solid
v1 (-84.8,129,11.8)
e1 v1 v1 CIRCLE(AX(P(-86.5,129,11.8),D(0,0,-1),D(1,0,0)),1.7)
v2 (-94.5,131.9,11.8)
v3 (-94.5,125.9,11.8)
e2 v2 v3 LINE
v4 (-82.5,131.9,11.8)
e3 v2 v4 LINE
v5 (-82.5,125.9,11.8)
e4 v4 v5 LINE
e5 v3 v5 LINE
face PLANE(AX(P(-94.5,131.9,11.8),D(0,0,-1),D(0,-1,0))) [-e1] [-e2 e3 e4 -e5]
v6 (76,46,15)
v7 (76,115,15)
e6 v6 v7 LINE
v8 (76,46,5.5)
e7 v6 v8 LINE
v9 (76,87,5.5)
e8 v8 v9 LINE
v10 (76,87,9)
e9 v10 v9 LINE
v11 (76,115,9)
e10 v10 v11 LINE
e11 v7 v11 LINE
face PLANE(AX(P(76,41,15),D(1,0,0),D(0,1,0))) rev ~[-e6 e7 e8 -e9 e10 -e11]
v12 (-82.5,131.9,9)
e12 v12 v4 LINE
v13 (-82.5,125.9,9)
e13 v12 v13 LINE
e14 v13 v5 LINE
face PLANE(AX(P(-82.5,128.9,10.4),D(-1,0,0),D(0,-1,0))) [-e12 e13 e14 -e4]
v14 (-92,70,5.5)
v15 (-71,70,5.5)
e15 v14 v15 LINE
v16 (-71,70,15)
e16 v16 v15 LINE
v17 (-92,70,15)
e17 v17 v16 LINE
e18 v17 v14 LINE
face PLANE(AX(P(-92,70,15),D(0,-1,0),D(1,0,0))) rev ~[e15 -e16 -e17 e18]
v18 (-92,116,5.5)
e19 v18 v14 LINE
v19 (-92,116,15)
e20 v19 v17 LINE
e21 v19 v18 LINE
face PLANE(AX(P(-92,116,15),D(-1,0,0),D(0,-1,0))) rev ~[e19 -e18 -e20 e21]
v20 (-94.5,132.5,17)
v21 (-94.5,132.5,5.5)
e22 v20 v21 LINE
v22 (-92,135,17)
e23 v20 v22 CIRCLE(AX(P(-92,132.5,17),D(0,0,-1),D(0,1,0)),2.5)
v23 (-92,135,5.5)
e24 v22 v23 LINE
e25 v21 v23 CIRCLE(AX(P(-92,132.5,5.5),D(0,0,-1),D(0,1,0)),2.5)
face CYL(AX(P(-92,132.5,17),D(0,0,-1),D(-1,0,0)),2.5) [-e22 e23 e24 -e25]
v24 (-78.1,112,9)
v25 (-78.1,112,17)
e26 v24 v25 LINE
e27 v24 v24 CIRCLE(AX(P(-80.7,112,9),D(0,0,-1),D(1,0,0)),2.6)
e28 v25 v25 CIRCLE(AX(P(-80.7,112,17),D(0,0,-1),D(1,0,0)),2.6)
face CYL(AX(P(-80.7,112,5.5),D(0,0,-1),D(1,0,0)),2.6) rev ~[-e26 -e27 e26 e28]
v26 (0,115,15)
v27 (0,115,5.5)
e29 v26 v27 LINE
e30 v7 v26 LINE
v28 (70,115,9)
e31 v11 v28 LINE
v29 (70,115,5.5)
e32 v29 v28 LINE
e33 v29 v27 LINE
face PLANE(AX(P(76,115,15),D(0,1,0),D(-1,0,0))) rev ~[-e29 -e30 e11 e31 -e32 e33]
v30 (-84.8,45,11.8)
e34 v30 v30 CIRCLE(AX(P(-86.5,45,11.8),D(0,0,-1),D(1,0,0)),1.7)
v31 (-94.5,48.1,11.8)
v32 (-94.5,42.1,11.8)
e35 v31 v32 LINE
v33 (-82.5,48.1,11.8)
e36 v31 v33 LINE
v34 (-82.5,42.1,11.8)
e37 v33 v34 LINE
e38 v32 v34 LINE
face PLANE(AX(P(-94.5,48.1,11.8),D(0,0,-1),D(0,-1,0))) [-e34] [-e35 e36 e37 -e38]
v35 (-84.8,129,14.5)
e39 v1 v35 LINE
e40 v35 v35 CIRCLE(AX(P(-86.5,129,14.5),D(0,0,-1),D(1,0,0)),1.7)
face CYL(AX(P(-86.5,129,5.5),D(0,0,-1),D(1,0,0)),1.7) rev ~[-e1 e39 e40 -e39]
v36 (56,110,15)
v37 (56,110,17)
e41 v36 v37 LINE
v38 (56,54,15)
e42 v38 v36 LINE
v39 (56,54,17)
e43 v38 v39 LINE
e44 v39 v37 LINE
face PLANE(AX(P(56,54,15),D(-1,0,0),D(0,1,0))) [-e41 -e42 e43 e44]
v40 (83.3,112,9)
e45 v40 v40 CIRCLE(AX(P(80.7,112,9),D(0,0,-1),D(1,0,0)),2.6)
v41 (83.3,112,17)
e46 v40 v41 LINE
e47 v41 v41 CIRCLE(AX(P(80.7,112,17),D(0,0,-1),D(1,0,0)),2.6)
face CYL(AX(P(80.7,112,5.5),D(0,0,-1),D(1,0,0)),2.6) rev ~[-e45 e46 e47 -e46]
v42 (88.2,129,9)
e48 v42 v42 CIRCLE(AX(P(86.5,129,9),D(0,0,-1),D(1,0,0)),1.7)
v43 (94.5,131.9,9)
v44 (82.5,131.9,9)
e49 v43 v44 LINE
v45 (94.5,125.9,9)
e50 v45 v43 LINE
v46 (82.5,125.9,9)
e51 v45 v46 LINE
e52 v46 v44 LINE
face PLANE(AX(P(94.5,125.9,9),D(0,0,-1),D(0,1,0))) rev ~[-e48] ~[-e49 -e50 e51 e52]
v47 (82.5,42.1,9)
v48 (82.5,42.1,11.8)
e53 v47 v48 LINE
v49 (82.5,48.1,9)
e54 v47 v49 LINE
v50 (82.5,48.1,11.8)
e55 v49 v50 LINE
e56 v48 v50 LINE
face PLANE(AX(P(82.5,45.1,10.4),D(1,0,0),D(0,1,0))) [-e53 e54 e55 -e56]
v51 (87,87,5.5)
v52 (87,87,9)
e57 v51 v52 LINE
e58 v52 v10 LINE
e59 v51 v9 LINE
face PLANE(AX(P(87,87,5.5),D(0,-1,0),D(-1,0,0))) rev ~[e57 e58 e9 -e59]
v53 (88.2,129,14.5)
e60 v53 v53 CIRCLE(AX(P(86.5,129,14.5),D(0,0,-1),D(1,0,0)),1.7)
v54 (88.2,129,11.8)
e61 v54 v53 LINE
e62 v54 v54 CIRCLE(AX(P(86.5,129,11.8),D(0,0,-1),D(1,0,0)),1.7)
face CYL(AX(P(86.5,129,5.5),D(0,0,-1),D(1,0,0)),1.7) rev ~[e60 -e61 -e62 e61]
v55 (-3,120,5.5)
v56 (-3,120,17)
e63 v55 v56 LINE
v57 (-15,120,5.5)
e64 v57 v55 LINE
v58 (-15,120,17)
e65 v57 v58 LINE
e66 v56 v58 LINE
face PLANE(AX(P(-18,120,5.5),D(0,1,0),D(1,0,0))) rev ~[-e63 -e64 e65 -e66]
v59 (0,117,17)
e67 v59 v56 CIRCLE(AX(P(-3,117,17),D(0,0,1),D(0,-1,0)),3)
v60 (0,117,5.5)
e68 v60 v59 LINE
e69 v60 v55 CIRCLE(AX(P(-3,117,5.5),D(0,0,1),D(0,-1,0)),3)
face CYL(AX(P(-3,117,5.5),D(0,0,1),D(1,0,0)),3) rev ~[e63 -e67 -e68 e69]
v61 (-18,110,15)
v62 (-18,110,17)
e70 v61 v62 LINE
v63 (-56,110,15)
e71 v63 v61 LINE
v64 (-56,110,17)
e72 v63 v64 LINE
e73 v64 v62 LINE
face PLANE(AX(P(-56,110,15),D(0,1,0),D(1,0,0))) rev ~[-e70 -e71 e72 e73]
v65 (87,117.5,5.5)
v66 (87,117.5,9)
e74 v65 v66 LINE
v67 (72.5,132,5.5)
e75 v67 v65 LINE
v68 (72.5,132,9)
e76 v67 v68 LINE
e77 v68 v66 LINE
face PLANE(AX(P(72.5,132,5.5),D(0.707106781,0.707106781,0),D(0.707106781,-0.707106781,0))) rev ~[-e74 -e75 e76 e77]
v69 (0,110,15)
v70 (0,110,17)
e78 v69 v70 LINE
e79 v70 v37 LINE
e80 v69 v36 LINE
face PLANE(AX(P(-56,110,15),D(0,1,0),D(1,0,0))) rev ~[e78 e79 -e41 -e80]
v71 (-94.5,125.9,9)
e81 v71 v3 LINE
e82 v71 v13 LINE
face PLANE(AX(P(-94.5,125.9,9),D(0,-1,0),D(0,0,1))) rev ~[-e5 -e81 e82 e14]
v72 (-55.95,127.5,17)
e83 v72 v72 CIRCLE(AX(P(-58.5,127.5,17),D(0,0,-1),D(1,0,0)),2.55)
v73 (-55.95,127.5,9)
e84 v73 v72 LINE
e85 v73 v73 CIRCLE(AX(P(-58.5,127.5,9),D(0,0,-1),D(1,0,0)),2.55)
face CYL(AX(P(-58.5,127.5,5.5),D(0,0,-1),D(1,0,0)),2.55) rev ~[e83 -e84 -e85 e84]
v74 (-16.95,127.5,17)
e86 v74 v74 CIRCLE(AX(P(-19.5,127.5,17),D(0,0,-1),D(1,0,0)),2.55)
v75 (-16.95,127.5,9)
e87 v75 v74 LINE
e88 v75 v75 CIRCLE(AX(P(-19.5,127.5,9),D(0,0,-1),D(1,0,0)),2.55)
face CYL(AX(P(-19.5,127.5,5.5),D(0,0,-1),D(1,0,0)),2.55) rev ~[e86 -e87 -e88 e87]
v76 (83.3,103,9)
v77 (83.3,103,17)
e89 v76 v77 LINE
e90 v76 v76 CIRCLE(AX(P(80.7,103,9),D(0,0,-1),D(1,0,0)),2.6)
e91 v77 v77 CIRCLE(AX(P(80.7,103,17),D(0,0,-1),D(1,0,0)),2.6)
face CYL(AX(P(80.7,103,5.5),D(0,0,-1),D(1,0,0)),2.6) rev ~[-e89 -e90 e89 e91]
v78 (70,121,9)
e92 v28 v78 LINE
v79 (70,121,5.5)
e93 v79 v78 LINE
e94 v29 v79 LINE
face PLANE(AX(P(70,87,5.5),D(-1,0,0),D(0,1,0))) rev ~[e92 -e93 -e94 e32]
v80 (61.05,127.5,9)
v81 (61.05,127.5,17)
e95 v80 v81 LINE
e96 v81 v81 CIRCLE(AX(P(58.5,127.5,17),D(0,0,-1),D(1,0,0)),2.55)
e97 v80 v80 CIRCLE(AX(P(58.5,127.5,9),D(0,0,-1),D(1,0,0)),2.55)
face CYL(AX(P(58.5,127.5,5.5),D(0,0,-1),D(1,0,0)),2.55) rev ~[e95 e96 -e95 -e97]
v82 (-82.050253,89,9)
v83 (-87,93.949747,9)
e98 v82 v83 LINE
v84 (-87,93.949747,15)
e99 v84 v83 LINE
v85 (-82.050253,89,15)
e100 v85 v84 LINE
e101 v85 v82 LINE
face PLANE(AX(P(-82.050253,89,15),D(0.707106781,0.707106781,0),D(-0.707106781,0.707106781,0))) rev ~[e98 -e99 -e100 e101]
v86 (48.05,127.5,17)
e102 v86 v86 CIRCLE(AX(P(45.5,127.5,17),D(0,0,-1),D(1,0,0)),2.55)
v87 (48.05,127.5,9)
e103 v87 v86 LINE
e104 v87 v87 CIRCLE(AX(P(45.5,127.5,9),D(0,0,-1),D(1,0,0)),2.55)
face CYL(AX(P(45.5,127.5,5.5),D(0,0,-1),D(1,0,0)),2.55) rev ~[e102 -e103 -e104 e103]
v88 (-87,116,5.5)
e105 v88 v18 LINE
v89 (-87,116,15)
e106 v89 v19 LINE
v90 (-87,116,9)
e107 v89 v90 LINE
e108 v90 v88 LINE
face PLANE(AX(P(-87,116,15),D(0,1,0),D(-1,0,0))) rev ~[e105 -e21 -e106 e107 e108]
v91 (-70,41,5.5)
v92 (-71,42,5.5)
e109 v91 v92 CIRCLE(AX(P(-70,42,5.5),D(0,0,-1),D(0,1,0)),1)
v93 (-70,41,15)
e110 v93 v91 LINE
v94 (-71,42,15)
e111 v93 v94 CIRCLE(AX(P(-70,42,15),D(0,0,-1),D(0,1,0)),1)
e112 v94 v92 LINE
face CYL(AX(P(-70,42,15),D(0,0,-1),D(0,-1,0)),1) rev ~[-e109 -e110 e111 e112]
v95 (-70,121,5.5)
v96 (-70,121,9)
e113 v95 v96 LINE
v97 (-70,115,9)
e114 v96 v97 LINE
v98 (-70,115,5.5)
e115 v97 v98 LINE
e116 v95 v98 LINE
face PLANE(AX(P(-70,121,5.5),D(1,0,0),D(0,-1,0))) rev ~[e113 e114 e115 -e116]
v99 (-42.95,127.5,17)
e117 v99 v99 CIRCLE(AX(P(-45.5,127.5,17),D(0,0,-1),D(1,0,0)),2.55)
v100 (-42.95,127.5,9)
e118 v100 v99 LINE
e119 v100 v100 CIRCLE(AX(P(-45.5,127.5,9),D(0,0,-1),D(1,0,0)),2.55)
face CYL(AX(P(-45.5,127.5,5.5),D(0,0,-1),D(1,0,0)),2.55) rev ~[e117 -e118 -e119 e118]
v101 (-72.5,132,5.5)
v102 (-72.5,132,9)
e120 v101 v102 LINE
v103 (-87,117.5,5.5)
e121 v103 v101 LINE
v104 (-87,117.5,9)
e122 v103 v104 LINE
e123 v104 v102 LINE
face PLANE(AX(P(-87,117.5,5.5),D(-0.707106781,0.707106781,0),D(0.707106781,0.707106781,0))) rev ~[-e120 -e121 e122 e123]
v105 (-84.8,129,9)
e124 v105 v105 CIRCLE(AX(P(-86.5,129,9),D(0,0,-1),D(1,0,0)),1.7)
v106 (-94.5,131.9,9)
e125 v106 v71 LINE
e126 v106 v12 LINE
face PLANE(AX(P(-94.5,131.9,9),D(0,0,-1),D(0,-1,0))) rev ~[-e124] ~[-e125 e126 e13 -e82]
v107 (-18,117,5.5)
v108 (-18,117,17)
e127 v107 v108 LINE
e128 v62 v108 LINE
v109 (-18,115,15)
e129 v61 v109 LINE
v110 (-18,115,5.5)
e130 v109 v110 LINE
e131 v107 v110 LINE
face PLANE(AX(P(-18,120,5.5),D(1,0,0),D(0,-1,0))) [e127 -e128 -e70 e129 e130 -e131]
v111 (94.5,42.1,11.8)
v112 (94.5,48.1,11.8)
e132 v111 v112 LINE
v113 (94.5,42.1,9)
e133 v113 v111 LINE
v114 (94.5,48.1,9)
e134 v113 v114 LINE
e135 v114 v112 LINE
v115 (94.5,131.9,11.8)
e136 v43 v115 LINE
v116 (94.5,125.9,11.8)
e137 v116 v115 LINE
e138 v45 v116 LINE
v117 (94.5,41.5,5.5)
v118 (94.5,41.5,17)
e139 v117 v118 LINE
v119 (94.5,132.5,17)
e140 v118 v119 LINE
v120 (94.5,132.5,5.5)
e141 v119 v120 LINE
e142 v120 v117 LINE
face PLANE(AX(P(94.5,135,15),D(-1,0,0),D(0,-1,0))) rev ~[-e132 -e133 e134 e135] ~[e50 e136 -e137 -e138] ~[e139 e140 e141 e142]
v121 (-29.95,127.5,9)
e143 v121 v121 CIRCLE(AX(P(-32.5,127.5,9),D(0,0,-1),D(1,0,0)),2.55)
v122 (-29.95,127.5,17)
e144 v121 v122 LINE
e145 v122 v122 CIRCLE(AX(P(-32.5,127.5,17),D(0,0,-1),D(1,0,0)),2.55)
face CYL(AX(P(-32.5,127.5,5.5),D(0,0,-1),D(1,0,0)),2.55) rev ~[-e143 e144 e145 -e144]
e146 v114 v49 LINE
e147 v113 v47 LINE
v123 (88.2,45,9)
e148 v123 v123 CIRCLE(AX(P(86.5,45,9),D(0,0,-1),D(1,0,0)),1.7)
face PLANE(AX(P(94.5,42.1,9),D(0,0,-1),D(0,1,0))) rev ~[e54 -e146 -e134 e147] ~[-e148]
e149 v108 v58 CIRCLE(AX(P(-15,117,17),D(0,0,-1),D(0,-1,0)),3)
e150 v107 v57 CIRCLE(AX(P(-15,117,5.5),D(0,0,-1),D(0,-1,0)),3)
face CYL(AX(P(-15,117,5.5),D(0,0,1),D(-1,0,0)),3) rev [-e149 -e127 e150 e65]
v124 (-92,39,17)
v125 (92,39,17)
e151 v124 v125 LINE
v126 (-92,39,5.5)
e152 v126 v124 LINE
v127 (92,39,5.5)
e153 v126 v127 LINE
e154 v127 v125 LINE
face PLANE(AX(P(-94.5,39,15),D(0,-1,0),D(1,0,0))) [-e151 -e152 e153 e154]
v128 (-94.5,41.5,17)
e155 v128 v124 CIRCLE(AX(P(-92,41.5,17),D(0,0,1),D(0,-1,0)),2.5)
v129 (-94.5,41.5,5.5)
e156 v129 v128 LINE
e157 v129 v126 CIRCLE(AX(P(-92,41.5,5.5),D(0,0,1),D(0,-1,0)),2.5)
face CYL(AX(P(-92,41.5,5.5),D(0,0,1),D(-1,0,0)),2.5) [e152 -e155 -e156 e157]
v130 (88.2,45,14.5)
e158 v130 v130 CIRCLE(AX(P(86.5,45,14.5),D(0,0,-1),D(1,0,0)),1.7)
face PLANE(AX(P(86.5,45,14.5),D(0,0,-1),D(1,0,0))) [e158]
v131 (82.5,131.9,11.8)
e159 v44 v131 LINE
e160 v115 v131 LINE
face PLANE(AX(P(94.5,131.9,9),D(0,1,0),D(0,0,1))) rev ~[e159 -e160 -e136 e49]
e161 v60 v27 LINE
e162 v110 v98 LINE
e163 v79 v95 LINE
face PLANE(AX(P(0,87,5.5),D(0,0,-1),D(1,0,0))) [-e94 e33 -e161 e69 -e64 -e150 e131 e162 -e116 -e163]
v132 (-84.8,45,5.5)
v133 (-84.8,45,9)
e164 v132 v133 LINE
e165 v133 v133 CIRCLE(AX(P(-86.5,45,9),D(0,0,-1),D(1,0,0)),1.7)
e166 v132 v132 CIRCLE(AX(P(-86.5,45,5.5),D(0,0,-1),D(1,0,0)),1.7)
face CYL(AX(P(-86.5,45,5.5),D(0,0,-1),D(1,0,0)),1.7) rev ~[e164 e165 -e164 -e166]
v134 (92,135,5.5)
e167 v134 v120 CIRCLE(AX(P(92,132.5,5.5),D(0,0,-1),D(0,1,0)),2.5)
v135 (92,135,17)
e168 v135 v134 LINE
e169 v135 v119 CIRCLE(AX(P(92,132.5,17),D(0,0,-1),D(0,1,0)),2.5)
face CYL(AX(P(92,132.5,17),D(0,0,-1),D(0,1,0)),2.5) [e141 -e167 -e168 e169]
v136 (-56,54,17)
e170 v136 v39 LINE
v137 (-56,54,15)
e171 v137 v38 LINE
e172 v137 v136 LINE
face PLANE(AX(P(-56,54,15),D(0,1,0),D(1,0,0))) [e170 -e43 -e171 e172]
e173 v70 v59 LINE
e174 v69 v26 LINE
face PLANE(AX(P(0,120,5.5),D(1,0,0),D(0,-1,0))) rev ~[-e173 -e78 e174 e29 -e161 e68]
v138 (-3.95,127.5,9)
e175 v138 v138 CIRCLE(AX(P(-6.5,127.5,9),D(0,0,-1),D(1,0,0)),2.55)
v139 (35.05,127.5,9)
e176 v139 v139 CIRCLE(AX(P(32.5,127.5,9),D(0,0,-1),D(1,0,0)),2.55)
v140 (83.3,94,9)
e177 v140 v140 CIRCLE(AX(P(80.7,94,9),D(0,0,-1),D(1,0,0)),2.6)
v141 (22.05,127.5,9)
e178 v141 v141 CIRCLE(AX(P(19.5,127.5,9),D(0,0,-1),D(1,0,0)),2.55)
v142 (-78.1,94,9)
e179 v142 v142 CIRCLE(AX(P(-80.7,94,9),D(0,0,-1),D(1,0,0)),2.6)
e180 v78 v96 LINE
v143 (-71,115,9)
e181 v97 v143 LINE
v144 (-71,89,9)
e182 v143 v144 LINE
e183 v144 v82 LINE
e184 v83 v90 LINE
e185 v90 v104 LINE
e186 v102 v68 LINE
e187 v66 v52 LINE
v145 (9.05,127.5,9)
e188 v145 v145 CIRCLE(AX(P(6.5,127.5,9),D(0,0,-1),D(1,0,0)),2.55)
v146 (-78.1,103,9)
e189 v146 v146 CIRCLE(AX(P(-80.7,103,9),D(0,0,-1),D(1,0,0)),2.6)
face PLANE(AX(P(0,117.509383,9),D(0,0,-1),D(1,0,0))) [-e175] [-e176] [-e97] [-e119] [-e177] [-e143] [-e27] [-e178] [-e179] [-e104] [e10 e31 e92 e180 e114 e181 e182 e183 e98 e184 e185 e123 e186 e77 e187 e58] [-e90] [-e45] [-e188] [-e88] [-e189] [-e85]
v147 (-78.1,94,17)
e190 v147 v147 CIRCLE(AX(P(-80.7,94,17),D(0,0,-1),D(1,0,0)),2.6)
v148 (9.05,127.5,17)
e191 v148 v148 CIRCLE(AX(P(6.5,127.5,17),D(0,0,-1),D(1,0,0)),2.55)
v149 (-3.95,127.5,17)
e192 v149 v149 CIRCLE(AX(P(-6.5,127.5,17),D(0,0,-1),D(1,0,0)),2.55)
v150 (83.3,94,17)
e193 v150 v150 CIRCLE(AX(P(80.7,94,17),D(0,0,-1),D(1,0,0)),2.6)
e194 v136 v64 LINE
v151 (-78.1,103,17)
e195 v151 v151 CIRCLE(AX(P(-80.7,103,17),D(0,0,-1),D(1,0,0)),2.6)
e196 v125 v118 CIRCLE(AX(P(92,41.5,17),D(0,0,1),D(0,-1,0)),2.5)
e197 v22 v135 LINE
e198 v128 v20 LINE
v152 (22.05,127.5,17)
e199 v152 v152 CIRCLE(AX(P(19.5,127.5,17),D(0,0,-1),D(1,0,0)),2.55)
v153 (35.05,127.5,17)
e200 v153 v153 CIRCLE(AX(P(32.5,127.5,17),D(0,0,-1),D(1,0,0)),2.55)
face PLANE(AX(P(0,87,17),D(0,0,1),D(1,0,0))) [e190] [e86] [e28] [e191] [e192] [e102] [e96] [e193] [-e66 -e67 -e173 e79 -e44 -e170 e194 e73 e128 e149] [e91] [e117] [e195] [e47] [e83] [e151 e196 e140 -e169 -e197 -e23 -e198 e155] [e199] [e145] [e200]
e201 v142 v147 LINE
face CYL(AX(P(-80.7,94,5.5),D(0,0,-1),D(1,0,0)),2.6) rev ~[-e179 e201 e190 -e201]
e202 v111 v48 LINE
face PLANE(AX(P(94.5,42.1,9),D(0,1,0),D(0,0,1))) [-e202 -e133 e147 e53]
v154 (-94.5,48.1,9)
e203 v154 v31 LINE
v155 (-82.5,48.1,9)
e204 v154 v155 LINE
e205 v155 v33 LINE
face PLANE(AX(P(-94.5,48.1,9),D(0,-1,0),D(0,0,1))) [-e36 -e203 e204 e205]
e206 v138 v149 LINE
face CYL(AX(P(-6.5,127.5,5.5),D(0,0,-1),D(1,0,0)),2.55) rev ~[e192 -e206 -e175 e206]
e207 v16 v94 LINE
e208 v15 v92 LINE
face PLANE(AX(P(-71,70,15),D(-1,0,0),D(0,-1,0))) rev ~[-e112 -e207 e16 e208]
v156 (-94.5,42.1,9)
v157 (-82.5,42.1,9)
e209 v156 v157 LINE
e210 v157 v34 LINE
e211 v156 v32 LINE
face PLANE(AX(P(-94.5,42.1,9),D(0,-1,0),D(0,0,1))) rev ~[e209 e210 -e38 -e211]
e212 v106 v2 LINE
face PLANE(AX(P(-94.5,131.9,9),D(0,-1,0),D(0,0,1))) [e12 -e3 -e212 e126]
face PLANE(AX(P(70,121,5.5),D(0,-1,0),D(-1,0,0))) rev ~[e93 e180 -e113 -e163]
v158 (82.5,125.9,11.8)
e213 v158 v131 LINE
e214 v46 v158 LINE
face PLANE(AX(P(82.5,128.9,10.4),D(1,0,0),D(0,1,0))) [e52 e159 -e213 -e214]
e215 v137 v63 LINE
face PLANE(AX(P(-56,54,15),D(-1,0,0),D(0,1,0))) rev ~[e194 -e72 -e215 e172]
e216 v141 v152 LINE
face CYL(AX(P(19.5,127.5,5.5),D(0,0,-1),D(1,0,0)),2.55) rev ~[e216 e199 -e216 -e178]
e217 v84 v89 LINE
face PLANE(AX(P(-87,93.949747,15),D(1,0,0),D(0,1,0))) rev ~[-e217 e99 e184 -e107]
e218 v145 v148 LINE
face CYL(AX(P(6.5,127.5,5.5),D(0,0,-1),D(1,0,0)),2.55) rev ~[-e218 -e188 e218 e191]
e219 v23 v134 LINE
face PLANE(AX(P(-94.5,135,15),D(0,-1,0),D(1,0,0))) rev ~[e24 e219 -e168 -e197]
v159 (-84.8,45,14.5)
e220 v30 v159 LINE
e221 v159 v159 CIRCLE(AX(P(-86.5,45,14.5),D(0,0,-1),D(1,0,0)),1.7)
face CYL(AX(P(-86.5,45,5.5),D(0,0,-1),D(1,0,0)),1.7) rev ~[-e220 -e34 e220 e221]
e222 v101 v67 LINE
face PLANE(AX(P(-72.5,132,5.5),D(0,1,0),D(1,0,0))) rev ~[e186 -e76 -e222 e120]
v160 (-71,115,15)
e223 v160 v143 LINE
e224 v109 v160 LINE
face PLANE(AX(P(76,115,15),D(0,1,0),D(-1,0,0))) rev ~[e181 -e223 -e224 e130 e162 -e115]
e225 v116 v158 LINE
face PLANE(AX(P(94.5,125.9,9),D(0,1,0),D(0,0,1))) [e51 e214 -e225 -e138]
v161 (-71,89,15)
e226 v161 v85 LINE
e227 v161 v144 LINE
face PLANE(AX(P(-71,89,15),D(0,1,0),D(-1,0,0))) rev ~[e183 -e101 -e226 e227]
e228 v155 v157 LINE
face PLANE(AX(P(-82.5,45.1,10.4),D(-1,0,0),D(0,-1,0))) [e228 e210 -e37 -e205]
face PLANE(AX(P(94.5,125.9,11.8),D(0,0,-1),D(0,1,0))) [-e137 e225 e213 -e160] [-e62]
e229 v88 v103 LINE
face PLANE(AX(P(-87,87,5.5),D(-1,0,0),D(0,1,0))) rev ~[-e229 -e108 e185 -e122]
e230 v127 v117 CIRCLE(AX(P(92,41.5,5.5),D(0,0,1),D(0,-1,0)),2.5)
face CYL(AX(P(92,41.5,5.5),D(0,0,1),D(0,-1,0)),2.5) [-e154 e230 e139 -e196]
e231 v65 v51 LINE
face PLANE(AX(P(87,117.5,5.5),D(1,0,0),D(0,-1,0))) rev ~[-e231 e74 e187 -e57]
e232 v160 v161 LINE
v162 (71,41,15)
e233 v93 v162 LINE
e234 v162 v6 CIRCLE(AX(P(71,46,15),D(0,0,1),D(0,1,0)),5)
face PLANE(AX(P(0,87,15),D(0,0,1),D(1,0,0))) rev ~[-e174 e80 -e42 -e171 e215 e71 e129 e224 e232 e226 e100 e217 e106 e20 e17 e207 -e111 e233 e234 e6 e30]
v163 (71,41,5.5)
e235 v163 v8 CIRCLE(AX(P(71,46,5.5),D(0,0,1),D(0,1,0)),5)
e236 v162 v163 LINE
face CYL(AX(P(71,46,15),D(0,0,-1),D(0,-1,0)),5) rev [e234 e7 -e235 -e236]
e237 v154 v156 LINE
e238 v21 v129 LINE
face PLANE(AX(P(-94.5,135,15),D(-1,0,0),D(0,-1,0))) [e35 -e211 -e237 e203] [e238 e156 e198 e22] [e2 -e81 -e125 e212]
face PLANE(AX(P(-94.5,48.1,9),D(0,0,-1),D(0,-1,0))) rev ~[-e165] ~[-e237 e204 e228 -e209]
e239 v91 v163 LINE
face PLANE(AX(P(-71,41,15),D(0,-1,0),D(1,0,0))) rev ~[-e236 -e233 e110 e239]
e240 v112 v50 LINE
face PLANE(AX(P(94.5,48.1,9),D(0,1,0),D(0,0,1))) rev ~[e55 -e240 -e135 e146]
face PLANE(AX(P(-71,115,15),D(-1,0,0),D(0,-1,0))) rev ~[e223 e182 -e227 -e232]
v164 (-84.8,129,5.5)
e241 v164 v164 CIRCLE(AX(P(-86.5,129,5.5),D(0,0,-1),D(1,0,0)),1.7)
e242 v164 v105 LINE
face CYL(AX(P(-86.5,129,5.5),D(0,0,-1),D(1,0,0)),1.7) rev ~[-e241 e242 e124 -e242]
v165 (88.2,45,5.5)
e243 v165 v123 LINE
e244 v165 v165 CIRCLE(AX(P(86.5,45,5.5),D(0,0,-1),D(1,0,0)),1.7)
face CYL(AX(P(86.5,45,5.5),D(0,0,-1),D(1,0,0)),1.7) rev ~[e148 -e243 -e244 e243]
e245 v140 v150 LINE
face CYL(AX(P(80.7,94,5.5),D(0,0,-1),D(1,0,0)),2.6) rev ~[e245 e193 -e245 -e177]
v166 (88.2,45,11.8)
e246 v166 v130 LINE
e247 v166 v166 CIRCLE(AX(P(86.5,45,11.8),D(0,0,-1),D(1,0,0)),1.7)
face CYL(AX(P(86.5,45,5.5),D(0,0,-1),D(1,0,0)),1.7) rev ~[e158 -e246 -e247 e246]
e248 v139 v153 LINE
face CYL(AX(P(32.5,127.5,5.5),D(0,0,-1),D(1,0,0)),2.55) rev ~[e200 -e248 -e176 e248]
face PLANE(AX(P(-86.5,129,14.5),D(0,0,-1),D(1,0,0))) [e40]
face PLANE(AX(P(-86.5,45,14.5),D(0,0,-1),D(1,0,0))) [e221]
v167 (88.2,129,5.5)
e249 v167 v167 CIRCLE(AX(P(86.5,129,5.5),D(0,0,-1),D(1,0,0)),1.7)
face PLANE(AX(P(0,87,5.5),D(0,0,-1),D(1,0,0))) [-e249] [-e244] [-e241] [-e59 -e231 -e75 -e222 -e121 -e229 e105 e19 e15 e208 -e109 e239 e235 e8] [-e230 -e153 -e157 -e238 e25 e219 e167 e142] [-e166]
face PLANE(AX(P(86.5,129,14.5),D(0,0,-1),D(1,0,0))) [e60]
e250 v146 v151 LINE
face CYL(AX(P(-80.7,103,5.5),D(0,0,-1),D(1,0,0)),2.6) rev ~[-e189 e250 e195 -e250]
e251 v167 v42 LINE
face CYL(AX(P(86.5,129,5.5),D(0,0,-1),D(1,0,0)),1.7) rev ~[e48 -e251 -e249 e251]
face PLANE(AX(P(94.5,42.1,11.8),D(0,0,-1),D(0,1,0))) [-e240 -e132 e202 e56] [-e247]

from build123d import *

# Parameters (mm, degrees)
SKETCH011_W     = 189
SKETCH011_H     = 96
SKETCH011_W_2   = 112
SKETCH011_H_2   = 56
PAD010_DEPTH    = 2
SKETCH012_W     = 189
SKETCH012_H     = 96
PAD011_DEPTH    = 9.5
SKETCH013_R     = 1.7
POCKET_DEPTH    = 9
SKETCH014_W     = 6
SKETCH014_H     = 2.8
POCKET001_DEPTH = 12
SKETCH015_W     = 6
SKETCH015_H     = 2.8
POCKET002_DEPTH = 12
SKETCH016_W     = 18
SKETCH016_H     = 10
POCKET003_DEPTH = 11.501
SKETCH017_R     = 2.55
SKETCH017_R_2   = 2.6
POCKET004_DEPTH = 11.501
FILLET_R        = 2.5
FILLET005_R     = 5
FILLET006_R     = 1
POCKET005_DEPTH = 3.5
FILLET007_R     = 3


with BuildPart() as part:
    # Sketch011 → Pad010 (new body)
    with BuildSketch(Plane.XY):
        with Locations((0, 5)):
            Rectangle(SKETCH011_W, SKETCH011_H)
        Rectangle(SKETCH011_W_2, SKETCH011_H_2, mode=Mode.SUBTRACT)
    extrude(amount=PAD010_DEPTH)

    # Sketch012 (on Face9 of Pad010) → Pad011 (join)
    with BuildSketch(Plane(origin=(0, 0, 0), x_dir=(1, 0, 0), z_dir=(0, 0, -1))):
        with Locations((0, -5)):
            Rectangle(SKETCH012_W, SKETCH012_H)
        Polygon((-71, 41), (76, 41), (76, -33), (-71, -33), (-71, -7), (-82.050253, -7), (-87, -11.949747), (-87, -34), (-92, -34), (-92, 12), (-71, 12), align=None, mode=Mode.SUBTRACT)
    extrude(amount=PAD011_DEPTH)

    # Sketch013 (on Face9 of Pad011) → Pocket (cut)
    with BuildSketch(Plane(origin=(0, 0, -9.5), x_dir=(1, 0, 0), z_dir=(0, 0, -1))):
        with Locations((-86.5, 37)):
            Circle(SKETCH013_R)
        with Locations((-86.5, -47)):
            Circle(SKETCH013_R)
        with Locations((86.5, 37)):
            Circle(SKETCH013_R)
        with Locations((86.5, -47)):
            Circle(SKETCH013_R)
    extrude(amount=-POCKET_DEPTH, mode=Mode.SUBTRACT)

    # Sketch014 (on Face7 of Pocket) → Pocket001 (cut)
    with BuildSketch(Plane(origin=(-94.5, 0, 0), x_dir=(0, -1, 0), z_dir=(-1, 0, 0))):
        with Locations((36.9, -4.6)):
            Rectangle(SKETCH014_W, SKETCH014_H)
        with Locations((-46.9, -4.6)):
            Rectangle(SKETCH014_W, SKETCH014_H)
    extrude(amount=-POCKET001_DEPTH, mode=Mode.SUBTRACT)

    # Sketch015 (on Face8 of Pocket001) → Pocket002 (cut)
    with BuildSketch(Plane.YZ.offset(94.5)):
        with Locations((-36.9, -4.6)):
            Rectangle(SKETCH015_W, SKETCH015_H)
        with Locations((46.9, -4.6)):
            Rectangle(SKETCH015_W, SKETCH015_H)
    extrude(amount=-POCKET002_DEPTH, mode=Mode.SUBTRACT)

    # Sketch016 (on Face9 of Pocket002) → Pocket003 (cut, through all)
    with BuildSketch(Plane(origin=(0, 0, -9.5), x_dir=(1, 0, 0), z_dir=(0, 0, -1))):
        with Locations((-9, -33)):
            Rectangle(SKETCH016_W, SKETCH016_H)
    extrude(amount=-POCKET003_DEPTH, mode=Mode.SUBTRACT)

    # Sketch017 (on Face9 of Pocket003) → Pocket004 (cut, through all)
    with BuildSketch(Plane(origin=(0, 0, -9.5), x_dir=(1, 0, 0), z_dir=(0, 0, -1))):
        with Locations((-58.5, -45.5)):
            Circle(SKETCH017_R)
        with Locations((-45.5, -45.5)):
            Circle(SKETCH017_R)
        with Locations((-32.5, -45.5)):
            Circle(SKETCH017_R)
        with Locations((-19.5, -45.5)):
            Circle(SKETCH017_R)
        with Locations((-6.5, -45.5)):
            Circle(SKETCH017_R)
        with Locations((6.5, -45.5)):
            Circle(SKETCH017_R)
        with Locations((19.5, -45.5)):
            Circle(SKETCH017_R)
        with Locations((32.5, -45.5)):
            Circle(SKETCH017_R)
        with Locations((45.5, -45.5)):
            Circle(SKETCH017_R)
        with Locations((58.5, -45.5)):
            Circle(SKETCH017_R)
        with Locations((-80.7, -12)):
            Circle(SKETCH017_R_2)
        with Locations((-80.7, -21)):
            Circle(SKETCH017_R_2)
        with Locations((-80.7, -30)):
            Circle(SKETCH017_R_2)
        with Locations((80.7, -12)):
            Circle(SKETCH017_R_2)
        with Locations((80.7, -21)):
            Circle(SKETCH017_R_2)
        with Locations((80.7, -30)):
            Circle(SKETCH017_R_2)
    extrude(amount=-POCKET004_DEPTH, mode=Mode.SUBTRACT)

    # Fillet
    fillet_edges = [part.edges().sort_by_distance(p)[0] for p in [
        (-94.5, 53, -4.75),
        (-94.5, -43, -4.75),
        (94.5, -43, -4.75),
        (94.5, 53, -4.75),
    ]]
    fillet(fillet_edges, radius=FILLET_R)

    # Fillet005
    fillet005_edges = [part.edges().sort_by_distance(p)[0] for p in [
        (76, -41, -4.75),
    ]]
    fillet(fillet005_edges, radius=FILLET005_R)

    # Fillet006
    fillet006_edges = [part.edges().sort_by_distance(p)[0] for p in [
        (83.3, 30, -3.75),
        (-78.1, 12, -3.75),
        (35.05, 45.5, -3.75),
        (83.3, 21, -3.75),
        (48.05, 45.5, -3.75),
        (-78.1, 30, -3.75),
        (-78.1, 21, -3.75),
        (-71, -41, -4.75),
    ]]
    fillet(fillet006_edges, radius=FILLET006_R)

    # Sketch018 (on Face1 of Fillet006) → Pocket005 (cut)
    with BuildSketch(Plane(origin=(0, 0, -9.5), x_dir=(1, 0, 0), z_dir=(0, 0, -1))):
        Polygon((-87, -5), (-87, -35.5), (-72.5, -50), (72.5, -50), (87, -35.5), (87, -5), (70, -5), (70, -39), (-70, -39), (-70, -5), align=None)
    extrude(amount=-POCKET005_DEPTH, mode=Mode.SUBTRACT)

    # Fillet007
    fillet007_edges = [part.edges().sort_by_distance(p)[0] for p in [
        (-18, 38, -3.75),
        (0, 38, -3.75),
    ]]
    fillet(fillet007_edges, radius=FILLET007_R)


with BuildPart() as part_1:
    # Body007 placement: moved
    add(part.part.moved(Location((0, 82, 15))))


solid = part_1.part
